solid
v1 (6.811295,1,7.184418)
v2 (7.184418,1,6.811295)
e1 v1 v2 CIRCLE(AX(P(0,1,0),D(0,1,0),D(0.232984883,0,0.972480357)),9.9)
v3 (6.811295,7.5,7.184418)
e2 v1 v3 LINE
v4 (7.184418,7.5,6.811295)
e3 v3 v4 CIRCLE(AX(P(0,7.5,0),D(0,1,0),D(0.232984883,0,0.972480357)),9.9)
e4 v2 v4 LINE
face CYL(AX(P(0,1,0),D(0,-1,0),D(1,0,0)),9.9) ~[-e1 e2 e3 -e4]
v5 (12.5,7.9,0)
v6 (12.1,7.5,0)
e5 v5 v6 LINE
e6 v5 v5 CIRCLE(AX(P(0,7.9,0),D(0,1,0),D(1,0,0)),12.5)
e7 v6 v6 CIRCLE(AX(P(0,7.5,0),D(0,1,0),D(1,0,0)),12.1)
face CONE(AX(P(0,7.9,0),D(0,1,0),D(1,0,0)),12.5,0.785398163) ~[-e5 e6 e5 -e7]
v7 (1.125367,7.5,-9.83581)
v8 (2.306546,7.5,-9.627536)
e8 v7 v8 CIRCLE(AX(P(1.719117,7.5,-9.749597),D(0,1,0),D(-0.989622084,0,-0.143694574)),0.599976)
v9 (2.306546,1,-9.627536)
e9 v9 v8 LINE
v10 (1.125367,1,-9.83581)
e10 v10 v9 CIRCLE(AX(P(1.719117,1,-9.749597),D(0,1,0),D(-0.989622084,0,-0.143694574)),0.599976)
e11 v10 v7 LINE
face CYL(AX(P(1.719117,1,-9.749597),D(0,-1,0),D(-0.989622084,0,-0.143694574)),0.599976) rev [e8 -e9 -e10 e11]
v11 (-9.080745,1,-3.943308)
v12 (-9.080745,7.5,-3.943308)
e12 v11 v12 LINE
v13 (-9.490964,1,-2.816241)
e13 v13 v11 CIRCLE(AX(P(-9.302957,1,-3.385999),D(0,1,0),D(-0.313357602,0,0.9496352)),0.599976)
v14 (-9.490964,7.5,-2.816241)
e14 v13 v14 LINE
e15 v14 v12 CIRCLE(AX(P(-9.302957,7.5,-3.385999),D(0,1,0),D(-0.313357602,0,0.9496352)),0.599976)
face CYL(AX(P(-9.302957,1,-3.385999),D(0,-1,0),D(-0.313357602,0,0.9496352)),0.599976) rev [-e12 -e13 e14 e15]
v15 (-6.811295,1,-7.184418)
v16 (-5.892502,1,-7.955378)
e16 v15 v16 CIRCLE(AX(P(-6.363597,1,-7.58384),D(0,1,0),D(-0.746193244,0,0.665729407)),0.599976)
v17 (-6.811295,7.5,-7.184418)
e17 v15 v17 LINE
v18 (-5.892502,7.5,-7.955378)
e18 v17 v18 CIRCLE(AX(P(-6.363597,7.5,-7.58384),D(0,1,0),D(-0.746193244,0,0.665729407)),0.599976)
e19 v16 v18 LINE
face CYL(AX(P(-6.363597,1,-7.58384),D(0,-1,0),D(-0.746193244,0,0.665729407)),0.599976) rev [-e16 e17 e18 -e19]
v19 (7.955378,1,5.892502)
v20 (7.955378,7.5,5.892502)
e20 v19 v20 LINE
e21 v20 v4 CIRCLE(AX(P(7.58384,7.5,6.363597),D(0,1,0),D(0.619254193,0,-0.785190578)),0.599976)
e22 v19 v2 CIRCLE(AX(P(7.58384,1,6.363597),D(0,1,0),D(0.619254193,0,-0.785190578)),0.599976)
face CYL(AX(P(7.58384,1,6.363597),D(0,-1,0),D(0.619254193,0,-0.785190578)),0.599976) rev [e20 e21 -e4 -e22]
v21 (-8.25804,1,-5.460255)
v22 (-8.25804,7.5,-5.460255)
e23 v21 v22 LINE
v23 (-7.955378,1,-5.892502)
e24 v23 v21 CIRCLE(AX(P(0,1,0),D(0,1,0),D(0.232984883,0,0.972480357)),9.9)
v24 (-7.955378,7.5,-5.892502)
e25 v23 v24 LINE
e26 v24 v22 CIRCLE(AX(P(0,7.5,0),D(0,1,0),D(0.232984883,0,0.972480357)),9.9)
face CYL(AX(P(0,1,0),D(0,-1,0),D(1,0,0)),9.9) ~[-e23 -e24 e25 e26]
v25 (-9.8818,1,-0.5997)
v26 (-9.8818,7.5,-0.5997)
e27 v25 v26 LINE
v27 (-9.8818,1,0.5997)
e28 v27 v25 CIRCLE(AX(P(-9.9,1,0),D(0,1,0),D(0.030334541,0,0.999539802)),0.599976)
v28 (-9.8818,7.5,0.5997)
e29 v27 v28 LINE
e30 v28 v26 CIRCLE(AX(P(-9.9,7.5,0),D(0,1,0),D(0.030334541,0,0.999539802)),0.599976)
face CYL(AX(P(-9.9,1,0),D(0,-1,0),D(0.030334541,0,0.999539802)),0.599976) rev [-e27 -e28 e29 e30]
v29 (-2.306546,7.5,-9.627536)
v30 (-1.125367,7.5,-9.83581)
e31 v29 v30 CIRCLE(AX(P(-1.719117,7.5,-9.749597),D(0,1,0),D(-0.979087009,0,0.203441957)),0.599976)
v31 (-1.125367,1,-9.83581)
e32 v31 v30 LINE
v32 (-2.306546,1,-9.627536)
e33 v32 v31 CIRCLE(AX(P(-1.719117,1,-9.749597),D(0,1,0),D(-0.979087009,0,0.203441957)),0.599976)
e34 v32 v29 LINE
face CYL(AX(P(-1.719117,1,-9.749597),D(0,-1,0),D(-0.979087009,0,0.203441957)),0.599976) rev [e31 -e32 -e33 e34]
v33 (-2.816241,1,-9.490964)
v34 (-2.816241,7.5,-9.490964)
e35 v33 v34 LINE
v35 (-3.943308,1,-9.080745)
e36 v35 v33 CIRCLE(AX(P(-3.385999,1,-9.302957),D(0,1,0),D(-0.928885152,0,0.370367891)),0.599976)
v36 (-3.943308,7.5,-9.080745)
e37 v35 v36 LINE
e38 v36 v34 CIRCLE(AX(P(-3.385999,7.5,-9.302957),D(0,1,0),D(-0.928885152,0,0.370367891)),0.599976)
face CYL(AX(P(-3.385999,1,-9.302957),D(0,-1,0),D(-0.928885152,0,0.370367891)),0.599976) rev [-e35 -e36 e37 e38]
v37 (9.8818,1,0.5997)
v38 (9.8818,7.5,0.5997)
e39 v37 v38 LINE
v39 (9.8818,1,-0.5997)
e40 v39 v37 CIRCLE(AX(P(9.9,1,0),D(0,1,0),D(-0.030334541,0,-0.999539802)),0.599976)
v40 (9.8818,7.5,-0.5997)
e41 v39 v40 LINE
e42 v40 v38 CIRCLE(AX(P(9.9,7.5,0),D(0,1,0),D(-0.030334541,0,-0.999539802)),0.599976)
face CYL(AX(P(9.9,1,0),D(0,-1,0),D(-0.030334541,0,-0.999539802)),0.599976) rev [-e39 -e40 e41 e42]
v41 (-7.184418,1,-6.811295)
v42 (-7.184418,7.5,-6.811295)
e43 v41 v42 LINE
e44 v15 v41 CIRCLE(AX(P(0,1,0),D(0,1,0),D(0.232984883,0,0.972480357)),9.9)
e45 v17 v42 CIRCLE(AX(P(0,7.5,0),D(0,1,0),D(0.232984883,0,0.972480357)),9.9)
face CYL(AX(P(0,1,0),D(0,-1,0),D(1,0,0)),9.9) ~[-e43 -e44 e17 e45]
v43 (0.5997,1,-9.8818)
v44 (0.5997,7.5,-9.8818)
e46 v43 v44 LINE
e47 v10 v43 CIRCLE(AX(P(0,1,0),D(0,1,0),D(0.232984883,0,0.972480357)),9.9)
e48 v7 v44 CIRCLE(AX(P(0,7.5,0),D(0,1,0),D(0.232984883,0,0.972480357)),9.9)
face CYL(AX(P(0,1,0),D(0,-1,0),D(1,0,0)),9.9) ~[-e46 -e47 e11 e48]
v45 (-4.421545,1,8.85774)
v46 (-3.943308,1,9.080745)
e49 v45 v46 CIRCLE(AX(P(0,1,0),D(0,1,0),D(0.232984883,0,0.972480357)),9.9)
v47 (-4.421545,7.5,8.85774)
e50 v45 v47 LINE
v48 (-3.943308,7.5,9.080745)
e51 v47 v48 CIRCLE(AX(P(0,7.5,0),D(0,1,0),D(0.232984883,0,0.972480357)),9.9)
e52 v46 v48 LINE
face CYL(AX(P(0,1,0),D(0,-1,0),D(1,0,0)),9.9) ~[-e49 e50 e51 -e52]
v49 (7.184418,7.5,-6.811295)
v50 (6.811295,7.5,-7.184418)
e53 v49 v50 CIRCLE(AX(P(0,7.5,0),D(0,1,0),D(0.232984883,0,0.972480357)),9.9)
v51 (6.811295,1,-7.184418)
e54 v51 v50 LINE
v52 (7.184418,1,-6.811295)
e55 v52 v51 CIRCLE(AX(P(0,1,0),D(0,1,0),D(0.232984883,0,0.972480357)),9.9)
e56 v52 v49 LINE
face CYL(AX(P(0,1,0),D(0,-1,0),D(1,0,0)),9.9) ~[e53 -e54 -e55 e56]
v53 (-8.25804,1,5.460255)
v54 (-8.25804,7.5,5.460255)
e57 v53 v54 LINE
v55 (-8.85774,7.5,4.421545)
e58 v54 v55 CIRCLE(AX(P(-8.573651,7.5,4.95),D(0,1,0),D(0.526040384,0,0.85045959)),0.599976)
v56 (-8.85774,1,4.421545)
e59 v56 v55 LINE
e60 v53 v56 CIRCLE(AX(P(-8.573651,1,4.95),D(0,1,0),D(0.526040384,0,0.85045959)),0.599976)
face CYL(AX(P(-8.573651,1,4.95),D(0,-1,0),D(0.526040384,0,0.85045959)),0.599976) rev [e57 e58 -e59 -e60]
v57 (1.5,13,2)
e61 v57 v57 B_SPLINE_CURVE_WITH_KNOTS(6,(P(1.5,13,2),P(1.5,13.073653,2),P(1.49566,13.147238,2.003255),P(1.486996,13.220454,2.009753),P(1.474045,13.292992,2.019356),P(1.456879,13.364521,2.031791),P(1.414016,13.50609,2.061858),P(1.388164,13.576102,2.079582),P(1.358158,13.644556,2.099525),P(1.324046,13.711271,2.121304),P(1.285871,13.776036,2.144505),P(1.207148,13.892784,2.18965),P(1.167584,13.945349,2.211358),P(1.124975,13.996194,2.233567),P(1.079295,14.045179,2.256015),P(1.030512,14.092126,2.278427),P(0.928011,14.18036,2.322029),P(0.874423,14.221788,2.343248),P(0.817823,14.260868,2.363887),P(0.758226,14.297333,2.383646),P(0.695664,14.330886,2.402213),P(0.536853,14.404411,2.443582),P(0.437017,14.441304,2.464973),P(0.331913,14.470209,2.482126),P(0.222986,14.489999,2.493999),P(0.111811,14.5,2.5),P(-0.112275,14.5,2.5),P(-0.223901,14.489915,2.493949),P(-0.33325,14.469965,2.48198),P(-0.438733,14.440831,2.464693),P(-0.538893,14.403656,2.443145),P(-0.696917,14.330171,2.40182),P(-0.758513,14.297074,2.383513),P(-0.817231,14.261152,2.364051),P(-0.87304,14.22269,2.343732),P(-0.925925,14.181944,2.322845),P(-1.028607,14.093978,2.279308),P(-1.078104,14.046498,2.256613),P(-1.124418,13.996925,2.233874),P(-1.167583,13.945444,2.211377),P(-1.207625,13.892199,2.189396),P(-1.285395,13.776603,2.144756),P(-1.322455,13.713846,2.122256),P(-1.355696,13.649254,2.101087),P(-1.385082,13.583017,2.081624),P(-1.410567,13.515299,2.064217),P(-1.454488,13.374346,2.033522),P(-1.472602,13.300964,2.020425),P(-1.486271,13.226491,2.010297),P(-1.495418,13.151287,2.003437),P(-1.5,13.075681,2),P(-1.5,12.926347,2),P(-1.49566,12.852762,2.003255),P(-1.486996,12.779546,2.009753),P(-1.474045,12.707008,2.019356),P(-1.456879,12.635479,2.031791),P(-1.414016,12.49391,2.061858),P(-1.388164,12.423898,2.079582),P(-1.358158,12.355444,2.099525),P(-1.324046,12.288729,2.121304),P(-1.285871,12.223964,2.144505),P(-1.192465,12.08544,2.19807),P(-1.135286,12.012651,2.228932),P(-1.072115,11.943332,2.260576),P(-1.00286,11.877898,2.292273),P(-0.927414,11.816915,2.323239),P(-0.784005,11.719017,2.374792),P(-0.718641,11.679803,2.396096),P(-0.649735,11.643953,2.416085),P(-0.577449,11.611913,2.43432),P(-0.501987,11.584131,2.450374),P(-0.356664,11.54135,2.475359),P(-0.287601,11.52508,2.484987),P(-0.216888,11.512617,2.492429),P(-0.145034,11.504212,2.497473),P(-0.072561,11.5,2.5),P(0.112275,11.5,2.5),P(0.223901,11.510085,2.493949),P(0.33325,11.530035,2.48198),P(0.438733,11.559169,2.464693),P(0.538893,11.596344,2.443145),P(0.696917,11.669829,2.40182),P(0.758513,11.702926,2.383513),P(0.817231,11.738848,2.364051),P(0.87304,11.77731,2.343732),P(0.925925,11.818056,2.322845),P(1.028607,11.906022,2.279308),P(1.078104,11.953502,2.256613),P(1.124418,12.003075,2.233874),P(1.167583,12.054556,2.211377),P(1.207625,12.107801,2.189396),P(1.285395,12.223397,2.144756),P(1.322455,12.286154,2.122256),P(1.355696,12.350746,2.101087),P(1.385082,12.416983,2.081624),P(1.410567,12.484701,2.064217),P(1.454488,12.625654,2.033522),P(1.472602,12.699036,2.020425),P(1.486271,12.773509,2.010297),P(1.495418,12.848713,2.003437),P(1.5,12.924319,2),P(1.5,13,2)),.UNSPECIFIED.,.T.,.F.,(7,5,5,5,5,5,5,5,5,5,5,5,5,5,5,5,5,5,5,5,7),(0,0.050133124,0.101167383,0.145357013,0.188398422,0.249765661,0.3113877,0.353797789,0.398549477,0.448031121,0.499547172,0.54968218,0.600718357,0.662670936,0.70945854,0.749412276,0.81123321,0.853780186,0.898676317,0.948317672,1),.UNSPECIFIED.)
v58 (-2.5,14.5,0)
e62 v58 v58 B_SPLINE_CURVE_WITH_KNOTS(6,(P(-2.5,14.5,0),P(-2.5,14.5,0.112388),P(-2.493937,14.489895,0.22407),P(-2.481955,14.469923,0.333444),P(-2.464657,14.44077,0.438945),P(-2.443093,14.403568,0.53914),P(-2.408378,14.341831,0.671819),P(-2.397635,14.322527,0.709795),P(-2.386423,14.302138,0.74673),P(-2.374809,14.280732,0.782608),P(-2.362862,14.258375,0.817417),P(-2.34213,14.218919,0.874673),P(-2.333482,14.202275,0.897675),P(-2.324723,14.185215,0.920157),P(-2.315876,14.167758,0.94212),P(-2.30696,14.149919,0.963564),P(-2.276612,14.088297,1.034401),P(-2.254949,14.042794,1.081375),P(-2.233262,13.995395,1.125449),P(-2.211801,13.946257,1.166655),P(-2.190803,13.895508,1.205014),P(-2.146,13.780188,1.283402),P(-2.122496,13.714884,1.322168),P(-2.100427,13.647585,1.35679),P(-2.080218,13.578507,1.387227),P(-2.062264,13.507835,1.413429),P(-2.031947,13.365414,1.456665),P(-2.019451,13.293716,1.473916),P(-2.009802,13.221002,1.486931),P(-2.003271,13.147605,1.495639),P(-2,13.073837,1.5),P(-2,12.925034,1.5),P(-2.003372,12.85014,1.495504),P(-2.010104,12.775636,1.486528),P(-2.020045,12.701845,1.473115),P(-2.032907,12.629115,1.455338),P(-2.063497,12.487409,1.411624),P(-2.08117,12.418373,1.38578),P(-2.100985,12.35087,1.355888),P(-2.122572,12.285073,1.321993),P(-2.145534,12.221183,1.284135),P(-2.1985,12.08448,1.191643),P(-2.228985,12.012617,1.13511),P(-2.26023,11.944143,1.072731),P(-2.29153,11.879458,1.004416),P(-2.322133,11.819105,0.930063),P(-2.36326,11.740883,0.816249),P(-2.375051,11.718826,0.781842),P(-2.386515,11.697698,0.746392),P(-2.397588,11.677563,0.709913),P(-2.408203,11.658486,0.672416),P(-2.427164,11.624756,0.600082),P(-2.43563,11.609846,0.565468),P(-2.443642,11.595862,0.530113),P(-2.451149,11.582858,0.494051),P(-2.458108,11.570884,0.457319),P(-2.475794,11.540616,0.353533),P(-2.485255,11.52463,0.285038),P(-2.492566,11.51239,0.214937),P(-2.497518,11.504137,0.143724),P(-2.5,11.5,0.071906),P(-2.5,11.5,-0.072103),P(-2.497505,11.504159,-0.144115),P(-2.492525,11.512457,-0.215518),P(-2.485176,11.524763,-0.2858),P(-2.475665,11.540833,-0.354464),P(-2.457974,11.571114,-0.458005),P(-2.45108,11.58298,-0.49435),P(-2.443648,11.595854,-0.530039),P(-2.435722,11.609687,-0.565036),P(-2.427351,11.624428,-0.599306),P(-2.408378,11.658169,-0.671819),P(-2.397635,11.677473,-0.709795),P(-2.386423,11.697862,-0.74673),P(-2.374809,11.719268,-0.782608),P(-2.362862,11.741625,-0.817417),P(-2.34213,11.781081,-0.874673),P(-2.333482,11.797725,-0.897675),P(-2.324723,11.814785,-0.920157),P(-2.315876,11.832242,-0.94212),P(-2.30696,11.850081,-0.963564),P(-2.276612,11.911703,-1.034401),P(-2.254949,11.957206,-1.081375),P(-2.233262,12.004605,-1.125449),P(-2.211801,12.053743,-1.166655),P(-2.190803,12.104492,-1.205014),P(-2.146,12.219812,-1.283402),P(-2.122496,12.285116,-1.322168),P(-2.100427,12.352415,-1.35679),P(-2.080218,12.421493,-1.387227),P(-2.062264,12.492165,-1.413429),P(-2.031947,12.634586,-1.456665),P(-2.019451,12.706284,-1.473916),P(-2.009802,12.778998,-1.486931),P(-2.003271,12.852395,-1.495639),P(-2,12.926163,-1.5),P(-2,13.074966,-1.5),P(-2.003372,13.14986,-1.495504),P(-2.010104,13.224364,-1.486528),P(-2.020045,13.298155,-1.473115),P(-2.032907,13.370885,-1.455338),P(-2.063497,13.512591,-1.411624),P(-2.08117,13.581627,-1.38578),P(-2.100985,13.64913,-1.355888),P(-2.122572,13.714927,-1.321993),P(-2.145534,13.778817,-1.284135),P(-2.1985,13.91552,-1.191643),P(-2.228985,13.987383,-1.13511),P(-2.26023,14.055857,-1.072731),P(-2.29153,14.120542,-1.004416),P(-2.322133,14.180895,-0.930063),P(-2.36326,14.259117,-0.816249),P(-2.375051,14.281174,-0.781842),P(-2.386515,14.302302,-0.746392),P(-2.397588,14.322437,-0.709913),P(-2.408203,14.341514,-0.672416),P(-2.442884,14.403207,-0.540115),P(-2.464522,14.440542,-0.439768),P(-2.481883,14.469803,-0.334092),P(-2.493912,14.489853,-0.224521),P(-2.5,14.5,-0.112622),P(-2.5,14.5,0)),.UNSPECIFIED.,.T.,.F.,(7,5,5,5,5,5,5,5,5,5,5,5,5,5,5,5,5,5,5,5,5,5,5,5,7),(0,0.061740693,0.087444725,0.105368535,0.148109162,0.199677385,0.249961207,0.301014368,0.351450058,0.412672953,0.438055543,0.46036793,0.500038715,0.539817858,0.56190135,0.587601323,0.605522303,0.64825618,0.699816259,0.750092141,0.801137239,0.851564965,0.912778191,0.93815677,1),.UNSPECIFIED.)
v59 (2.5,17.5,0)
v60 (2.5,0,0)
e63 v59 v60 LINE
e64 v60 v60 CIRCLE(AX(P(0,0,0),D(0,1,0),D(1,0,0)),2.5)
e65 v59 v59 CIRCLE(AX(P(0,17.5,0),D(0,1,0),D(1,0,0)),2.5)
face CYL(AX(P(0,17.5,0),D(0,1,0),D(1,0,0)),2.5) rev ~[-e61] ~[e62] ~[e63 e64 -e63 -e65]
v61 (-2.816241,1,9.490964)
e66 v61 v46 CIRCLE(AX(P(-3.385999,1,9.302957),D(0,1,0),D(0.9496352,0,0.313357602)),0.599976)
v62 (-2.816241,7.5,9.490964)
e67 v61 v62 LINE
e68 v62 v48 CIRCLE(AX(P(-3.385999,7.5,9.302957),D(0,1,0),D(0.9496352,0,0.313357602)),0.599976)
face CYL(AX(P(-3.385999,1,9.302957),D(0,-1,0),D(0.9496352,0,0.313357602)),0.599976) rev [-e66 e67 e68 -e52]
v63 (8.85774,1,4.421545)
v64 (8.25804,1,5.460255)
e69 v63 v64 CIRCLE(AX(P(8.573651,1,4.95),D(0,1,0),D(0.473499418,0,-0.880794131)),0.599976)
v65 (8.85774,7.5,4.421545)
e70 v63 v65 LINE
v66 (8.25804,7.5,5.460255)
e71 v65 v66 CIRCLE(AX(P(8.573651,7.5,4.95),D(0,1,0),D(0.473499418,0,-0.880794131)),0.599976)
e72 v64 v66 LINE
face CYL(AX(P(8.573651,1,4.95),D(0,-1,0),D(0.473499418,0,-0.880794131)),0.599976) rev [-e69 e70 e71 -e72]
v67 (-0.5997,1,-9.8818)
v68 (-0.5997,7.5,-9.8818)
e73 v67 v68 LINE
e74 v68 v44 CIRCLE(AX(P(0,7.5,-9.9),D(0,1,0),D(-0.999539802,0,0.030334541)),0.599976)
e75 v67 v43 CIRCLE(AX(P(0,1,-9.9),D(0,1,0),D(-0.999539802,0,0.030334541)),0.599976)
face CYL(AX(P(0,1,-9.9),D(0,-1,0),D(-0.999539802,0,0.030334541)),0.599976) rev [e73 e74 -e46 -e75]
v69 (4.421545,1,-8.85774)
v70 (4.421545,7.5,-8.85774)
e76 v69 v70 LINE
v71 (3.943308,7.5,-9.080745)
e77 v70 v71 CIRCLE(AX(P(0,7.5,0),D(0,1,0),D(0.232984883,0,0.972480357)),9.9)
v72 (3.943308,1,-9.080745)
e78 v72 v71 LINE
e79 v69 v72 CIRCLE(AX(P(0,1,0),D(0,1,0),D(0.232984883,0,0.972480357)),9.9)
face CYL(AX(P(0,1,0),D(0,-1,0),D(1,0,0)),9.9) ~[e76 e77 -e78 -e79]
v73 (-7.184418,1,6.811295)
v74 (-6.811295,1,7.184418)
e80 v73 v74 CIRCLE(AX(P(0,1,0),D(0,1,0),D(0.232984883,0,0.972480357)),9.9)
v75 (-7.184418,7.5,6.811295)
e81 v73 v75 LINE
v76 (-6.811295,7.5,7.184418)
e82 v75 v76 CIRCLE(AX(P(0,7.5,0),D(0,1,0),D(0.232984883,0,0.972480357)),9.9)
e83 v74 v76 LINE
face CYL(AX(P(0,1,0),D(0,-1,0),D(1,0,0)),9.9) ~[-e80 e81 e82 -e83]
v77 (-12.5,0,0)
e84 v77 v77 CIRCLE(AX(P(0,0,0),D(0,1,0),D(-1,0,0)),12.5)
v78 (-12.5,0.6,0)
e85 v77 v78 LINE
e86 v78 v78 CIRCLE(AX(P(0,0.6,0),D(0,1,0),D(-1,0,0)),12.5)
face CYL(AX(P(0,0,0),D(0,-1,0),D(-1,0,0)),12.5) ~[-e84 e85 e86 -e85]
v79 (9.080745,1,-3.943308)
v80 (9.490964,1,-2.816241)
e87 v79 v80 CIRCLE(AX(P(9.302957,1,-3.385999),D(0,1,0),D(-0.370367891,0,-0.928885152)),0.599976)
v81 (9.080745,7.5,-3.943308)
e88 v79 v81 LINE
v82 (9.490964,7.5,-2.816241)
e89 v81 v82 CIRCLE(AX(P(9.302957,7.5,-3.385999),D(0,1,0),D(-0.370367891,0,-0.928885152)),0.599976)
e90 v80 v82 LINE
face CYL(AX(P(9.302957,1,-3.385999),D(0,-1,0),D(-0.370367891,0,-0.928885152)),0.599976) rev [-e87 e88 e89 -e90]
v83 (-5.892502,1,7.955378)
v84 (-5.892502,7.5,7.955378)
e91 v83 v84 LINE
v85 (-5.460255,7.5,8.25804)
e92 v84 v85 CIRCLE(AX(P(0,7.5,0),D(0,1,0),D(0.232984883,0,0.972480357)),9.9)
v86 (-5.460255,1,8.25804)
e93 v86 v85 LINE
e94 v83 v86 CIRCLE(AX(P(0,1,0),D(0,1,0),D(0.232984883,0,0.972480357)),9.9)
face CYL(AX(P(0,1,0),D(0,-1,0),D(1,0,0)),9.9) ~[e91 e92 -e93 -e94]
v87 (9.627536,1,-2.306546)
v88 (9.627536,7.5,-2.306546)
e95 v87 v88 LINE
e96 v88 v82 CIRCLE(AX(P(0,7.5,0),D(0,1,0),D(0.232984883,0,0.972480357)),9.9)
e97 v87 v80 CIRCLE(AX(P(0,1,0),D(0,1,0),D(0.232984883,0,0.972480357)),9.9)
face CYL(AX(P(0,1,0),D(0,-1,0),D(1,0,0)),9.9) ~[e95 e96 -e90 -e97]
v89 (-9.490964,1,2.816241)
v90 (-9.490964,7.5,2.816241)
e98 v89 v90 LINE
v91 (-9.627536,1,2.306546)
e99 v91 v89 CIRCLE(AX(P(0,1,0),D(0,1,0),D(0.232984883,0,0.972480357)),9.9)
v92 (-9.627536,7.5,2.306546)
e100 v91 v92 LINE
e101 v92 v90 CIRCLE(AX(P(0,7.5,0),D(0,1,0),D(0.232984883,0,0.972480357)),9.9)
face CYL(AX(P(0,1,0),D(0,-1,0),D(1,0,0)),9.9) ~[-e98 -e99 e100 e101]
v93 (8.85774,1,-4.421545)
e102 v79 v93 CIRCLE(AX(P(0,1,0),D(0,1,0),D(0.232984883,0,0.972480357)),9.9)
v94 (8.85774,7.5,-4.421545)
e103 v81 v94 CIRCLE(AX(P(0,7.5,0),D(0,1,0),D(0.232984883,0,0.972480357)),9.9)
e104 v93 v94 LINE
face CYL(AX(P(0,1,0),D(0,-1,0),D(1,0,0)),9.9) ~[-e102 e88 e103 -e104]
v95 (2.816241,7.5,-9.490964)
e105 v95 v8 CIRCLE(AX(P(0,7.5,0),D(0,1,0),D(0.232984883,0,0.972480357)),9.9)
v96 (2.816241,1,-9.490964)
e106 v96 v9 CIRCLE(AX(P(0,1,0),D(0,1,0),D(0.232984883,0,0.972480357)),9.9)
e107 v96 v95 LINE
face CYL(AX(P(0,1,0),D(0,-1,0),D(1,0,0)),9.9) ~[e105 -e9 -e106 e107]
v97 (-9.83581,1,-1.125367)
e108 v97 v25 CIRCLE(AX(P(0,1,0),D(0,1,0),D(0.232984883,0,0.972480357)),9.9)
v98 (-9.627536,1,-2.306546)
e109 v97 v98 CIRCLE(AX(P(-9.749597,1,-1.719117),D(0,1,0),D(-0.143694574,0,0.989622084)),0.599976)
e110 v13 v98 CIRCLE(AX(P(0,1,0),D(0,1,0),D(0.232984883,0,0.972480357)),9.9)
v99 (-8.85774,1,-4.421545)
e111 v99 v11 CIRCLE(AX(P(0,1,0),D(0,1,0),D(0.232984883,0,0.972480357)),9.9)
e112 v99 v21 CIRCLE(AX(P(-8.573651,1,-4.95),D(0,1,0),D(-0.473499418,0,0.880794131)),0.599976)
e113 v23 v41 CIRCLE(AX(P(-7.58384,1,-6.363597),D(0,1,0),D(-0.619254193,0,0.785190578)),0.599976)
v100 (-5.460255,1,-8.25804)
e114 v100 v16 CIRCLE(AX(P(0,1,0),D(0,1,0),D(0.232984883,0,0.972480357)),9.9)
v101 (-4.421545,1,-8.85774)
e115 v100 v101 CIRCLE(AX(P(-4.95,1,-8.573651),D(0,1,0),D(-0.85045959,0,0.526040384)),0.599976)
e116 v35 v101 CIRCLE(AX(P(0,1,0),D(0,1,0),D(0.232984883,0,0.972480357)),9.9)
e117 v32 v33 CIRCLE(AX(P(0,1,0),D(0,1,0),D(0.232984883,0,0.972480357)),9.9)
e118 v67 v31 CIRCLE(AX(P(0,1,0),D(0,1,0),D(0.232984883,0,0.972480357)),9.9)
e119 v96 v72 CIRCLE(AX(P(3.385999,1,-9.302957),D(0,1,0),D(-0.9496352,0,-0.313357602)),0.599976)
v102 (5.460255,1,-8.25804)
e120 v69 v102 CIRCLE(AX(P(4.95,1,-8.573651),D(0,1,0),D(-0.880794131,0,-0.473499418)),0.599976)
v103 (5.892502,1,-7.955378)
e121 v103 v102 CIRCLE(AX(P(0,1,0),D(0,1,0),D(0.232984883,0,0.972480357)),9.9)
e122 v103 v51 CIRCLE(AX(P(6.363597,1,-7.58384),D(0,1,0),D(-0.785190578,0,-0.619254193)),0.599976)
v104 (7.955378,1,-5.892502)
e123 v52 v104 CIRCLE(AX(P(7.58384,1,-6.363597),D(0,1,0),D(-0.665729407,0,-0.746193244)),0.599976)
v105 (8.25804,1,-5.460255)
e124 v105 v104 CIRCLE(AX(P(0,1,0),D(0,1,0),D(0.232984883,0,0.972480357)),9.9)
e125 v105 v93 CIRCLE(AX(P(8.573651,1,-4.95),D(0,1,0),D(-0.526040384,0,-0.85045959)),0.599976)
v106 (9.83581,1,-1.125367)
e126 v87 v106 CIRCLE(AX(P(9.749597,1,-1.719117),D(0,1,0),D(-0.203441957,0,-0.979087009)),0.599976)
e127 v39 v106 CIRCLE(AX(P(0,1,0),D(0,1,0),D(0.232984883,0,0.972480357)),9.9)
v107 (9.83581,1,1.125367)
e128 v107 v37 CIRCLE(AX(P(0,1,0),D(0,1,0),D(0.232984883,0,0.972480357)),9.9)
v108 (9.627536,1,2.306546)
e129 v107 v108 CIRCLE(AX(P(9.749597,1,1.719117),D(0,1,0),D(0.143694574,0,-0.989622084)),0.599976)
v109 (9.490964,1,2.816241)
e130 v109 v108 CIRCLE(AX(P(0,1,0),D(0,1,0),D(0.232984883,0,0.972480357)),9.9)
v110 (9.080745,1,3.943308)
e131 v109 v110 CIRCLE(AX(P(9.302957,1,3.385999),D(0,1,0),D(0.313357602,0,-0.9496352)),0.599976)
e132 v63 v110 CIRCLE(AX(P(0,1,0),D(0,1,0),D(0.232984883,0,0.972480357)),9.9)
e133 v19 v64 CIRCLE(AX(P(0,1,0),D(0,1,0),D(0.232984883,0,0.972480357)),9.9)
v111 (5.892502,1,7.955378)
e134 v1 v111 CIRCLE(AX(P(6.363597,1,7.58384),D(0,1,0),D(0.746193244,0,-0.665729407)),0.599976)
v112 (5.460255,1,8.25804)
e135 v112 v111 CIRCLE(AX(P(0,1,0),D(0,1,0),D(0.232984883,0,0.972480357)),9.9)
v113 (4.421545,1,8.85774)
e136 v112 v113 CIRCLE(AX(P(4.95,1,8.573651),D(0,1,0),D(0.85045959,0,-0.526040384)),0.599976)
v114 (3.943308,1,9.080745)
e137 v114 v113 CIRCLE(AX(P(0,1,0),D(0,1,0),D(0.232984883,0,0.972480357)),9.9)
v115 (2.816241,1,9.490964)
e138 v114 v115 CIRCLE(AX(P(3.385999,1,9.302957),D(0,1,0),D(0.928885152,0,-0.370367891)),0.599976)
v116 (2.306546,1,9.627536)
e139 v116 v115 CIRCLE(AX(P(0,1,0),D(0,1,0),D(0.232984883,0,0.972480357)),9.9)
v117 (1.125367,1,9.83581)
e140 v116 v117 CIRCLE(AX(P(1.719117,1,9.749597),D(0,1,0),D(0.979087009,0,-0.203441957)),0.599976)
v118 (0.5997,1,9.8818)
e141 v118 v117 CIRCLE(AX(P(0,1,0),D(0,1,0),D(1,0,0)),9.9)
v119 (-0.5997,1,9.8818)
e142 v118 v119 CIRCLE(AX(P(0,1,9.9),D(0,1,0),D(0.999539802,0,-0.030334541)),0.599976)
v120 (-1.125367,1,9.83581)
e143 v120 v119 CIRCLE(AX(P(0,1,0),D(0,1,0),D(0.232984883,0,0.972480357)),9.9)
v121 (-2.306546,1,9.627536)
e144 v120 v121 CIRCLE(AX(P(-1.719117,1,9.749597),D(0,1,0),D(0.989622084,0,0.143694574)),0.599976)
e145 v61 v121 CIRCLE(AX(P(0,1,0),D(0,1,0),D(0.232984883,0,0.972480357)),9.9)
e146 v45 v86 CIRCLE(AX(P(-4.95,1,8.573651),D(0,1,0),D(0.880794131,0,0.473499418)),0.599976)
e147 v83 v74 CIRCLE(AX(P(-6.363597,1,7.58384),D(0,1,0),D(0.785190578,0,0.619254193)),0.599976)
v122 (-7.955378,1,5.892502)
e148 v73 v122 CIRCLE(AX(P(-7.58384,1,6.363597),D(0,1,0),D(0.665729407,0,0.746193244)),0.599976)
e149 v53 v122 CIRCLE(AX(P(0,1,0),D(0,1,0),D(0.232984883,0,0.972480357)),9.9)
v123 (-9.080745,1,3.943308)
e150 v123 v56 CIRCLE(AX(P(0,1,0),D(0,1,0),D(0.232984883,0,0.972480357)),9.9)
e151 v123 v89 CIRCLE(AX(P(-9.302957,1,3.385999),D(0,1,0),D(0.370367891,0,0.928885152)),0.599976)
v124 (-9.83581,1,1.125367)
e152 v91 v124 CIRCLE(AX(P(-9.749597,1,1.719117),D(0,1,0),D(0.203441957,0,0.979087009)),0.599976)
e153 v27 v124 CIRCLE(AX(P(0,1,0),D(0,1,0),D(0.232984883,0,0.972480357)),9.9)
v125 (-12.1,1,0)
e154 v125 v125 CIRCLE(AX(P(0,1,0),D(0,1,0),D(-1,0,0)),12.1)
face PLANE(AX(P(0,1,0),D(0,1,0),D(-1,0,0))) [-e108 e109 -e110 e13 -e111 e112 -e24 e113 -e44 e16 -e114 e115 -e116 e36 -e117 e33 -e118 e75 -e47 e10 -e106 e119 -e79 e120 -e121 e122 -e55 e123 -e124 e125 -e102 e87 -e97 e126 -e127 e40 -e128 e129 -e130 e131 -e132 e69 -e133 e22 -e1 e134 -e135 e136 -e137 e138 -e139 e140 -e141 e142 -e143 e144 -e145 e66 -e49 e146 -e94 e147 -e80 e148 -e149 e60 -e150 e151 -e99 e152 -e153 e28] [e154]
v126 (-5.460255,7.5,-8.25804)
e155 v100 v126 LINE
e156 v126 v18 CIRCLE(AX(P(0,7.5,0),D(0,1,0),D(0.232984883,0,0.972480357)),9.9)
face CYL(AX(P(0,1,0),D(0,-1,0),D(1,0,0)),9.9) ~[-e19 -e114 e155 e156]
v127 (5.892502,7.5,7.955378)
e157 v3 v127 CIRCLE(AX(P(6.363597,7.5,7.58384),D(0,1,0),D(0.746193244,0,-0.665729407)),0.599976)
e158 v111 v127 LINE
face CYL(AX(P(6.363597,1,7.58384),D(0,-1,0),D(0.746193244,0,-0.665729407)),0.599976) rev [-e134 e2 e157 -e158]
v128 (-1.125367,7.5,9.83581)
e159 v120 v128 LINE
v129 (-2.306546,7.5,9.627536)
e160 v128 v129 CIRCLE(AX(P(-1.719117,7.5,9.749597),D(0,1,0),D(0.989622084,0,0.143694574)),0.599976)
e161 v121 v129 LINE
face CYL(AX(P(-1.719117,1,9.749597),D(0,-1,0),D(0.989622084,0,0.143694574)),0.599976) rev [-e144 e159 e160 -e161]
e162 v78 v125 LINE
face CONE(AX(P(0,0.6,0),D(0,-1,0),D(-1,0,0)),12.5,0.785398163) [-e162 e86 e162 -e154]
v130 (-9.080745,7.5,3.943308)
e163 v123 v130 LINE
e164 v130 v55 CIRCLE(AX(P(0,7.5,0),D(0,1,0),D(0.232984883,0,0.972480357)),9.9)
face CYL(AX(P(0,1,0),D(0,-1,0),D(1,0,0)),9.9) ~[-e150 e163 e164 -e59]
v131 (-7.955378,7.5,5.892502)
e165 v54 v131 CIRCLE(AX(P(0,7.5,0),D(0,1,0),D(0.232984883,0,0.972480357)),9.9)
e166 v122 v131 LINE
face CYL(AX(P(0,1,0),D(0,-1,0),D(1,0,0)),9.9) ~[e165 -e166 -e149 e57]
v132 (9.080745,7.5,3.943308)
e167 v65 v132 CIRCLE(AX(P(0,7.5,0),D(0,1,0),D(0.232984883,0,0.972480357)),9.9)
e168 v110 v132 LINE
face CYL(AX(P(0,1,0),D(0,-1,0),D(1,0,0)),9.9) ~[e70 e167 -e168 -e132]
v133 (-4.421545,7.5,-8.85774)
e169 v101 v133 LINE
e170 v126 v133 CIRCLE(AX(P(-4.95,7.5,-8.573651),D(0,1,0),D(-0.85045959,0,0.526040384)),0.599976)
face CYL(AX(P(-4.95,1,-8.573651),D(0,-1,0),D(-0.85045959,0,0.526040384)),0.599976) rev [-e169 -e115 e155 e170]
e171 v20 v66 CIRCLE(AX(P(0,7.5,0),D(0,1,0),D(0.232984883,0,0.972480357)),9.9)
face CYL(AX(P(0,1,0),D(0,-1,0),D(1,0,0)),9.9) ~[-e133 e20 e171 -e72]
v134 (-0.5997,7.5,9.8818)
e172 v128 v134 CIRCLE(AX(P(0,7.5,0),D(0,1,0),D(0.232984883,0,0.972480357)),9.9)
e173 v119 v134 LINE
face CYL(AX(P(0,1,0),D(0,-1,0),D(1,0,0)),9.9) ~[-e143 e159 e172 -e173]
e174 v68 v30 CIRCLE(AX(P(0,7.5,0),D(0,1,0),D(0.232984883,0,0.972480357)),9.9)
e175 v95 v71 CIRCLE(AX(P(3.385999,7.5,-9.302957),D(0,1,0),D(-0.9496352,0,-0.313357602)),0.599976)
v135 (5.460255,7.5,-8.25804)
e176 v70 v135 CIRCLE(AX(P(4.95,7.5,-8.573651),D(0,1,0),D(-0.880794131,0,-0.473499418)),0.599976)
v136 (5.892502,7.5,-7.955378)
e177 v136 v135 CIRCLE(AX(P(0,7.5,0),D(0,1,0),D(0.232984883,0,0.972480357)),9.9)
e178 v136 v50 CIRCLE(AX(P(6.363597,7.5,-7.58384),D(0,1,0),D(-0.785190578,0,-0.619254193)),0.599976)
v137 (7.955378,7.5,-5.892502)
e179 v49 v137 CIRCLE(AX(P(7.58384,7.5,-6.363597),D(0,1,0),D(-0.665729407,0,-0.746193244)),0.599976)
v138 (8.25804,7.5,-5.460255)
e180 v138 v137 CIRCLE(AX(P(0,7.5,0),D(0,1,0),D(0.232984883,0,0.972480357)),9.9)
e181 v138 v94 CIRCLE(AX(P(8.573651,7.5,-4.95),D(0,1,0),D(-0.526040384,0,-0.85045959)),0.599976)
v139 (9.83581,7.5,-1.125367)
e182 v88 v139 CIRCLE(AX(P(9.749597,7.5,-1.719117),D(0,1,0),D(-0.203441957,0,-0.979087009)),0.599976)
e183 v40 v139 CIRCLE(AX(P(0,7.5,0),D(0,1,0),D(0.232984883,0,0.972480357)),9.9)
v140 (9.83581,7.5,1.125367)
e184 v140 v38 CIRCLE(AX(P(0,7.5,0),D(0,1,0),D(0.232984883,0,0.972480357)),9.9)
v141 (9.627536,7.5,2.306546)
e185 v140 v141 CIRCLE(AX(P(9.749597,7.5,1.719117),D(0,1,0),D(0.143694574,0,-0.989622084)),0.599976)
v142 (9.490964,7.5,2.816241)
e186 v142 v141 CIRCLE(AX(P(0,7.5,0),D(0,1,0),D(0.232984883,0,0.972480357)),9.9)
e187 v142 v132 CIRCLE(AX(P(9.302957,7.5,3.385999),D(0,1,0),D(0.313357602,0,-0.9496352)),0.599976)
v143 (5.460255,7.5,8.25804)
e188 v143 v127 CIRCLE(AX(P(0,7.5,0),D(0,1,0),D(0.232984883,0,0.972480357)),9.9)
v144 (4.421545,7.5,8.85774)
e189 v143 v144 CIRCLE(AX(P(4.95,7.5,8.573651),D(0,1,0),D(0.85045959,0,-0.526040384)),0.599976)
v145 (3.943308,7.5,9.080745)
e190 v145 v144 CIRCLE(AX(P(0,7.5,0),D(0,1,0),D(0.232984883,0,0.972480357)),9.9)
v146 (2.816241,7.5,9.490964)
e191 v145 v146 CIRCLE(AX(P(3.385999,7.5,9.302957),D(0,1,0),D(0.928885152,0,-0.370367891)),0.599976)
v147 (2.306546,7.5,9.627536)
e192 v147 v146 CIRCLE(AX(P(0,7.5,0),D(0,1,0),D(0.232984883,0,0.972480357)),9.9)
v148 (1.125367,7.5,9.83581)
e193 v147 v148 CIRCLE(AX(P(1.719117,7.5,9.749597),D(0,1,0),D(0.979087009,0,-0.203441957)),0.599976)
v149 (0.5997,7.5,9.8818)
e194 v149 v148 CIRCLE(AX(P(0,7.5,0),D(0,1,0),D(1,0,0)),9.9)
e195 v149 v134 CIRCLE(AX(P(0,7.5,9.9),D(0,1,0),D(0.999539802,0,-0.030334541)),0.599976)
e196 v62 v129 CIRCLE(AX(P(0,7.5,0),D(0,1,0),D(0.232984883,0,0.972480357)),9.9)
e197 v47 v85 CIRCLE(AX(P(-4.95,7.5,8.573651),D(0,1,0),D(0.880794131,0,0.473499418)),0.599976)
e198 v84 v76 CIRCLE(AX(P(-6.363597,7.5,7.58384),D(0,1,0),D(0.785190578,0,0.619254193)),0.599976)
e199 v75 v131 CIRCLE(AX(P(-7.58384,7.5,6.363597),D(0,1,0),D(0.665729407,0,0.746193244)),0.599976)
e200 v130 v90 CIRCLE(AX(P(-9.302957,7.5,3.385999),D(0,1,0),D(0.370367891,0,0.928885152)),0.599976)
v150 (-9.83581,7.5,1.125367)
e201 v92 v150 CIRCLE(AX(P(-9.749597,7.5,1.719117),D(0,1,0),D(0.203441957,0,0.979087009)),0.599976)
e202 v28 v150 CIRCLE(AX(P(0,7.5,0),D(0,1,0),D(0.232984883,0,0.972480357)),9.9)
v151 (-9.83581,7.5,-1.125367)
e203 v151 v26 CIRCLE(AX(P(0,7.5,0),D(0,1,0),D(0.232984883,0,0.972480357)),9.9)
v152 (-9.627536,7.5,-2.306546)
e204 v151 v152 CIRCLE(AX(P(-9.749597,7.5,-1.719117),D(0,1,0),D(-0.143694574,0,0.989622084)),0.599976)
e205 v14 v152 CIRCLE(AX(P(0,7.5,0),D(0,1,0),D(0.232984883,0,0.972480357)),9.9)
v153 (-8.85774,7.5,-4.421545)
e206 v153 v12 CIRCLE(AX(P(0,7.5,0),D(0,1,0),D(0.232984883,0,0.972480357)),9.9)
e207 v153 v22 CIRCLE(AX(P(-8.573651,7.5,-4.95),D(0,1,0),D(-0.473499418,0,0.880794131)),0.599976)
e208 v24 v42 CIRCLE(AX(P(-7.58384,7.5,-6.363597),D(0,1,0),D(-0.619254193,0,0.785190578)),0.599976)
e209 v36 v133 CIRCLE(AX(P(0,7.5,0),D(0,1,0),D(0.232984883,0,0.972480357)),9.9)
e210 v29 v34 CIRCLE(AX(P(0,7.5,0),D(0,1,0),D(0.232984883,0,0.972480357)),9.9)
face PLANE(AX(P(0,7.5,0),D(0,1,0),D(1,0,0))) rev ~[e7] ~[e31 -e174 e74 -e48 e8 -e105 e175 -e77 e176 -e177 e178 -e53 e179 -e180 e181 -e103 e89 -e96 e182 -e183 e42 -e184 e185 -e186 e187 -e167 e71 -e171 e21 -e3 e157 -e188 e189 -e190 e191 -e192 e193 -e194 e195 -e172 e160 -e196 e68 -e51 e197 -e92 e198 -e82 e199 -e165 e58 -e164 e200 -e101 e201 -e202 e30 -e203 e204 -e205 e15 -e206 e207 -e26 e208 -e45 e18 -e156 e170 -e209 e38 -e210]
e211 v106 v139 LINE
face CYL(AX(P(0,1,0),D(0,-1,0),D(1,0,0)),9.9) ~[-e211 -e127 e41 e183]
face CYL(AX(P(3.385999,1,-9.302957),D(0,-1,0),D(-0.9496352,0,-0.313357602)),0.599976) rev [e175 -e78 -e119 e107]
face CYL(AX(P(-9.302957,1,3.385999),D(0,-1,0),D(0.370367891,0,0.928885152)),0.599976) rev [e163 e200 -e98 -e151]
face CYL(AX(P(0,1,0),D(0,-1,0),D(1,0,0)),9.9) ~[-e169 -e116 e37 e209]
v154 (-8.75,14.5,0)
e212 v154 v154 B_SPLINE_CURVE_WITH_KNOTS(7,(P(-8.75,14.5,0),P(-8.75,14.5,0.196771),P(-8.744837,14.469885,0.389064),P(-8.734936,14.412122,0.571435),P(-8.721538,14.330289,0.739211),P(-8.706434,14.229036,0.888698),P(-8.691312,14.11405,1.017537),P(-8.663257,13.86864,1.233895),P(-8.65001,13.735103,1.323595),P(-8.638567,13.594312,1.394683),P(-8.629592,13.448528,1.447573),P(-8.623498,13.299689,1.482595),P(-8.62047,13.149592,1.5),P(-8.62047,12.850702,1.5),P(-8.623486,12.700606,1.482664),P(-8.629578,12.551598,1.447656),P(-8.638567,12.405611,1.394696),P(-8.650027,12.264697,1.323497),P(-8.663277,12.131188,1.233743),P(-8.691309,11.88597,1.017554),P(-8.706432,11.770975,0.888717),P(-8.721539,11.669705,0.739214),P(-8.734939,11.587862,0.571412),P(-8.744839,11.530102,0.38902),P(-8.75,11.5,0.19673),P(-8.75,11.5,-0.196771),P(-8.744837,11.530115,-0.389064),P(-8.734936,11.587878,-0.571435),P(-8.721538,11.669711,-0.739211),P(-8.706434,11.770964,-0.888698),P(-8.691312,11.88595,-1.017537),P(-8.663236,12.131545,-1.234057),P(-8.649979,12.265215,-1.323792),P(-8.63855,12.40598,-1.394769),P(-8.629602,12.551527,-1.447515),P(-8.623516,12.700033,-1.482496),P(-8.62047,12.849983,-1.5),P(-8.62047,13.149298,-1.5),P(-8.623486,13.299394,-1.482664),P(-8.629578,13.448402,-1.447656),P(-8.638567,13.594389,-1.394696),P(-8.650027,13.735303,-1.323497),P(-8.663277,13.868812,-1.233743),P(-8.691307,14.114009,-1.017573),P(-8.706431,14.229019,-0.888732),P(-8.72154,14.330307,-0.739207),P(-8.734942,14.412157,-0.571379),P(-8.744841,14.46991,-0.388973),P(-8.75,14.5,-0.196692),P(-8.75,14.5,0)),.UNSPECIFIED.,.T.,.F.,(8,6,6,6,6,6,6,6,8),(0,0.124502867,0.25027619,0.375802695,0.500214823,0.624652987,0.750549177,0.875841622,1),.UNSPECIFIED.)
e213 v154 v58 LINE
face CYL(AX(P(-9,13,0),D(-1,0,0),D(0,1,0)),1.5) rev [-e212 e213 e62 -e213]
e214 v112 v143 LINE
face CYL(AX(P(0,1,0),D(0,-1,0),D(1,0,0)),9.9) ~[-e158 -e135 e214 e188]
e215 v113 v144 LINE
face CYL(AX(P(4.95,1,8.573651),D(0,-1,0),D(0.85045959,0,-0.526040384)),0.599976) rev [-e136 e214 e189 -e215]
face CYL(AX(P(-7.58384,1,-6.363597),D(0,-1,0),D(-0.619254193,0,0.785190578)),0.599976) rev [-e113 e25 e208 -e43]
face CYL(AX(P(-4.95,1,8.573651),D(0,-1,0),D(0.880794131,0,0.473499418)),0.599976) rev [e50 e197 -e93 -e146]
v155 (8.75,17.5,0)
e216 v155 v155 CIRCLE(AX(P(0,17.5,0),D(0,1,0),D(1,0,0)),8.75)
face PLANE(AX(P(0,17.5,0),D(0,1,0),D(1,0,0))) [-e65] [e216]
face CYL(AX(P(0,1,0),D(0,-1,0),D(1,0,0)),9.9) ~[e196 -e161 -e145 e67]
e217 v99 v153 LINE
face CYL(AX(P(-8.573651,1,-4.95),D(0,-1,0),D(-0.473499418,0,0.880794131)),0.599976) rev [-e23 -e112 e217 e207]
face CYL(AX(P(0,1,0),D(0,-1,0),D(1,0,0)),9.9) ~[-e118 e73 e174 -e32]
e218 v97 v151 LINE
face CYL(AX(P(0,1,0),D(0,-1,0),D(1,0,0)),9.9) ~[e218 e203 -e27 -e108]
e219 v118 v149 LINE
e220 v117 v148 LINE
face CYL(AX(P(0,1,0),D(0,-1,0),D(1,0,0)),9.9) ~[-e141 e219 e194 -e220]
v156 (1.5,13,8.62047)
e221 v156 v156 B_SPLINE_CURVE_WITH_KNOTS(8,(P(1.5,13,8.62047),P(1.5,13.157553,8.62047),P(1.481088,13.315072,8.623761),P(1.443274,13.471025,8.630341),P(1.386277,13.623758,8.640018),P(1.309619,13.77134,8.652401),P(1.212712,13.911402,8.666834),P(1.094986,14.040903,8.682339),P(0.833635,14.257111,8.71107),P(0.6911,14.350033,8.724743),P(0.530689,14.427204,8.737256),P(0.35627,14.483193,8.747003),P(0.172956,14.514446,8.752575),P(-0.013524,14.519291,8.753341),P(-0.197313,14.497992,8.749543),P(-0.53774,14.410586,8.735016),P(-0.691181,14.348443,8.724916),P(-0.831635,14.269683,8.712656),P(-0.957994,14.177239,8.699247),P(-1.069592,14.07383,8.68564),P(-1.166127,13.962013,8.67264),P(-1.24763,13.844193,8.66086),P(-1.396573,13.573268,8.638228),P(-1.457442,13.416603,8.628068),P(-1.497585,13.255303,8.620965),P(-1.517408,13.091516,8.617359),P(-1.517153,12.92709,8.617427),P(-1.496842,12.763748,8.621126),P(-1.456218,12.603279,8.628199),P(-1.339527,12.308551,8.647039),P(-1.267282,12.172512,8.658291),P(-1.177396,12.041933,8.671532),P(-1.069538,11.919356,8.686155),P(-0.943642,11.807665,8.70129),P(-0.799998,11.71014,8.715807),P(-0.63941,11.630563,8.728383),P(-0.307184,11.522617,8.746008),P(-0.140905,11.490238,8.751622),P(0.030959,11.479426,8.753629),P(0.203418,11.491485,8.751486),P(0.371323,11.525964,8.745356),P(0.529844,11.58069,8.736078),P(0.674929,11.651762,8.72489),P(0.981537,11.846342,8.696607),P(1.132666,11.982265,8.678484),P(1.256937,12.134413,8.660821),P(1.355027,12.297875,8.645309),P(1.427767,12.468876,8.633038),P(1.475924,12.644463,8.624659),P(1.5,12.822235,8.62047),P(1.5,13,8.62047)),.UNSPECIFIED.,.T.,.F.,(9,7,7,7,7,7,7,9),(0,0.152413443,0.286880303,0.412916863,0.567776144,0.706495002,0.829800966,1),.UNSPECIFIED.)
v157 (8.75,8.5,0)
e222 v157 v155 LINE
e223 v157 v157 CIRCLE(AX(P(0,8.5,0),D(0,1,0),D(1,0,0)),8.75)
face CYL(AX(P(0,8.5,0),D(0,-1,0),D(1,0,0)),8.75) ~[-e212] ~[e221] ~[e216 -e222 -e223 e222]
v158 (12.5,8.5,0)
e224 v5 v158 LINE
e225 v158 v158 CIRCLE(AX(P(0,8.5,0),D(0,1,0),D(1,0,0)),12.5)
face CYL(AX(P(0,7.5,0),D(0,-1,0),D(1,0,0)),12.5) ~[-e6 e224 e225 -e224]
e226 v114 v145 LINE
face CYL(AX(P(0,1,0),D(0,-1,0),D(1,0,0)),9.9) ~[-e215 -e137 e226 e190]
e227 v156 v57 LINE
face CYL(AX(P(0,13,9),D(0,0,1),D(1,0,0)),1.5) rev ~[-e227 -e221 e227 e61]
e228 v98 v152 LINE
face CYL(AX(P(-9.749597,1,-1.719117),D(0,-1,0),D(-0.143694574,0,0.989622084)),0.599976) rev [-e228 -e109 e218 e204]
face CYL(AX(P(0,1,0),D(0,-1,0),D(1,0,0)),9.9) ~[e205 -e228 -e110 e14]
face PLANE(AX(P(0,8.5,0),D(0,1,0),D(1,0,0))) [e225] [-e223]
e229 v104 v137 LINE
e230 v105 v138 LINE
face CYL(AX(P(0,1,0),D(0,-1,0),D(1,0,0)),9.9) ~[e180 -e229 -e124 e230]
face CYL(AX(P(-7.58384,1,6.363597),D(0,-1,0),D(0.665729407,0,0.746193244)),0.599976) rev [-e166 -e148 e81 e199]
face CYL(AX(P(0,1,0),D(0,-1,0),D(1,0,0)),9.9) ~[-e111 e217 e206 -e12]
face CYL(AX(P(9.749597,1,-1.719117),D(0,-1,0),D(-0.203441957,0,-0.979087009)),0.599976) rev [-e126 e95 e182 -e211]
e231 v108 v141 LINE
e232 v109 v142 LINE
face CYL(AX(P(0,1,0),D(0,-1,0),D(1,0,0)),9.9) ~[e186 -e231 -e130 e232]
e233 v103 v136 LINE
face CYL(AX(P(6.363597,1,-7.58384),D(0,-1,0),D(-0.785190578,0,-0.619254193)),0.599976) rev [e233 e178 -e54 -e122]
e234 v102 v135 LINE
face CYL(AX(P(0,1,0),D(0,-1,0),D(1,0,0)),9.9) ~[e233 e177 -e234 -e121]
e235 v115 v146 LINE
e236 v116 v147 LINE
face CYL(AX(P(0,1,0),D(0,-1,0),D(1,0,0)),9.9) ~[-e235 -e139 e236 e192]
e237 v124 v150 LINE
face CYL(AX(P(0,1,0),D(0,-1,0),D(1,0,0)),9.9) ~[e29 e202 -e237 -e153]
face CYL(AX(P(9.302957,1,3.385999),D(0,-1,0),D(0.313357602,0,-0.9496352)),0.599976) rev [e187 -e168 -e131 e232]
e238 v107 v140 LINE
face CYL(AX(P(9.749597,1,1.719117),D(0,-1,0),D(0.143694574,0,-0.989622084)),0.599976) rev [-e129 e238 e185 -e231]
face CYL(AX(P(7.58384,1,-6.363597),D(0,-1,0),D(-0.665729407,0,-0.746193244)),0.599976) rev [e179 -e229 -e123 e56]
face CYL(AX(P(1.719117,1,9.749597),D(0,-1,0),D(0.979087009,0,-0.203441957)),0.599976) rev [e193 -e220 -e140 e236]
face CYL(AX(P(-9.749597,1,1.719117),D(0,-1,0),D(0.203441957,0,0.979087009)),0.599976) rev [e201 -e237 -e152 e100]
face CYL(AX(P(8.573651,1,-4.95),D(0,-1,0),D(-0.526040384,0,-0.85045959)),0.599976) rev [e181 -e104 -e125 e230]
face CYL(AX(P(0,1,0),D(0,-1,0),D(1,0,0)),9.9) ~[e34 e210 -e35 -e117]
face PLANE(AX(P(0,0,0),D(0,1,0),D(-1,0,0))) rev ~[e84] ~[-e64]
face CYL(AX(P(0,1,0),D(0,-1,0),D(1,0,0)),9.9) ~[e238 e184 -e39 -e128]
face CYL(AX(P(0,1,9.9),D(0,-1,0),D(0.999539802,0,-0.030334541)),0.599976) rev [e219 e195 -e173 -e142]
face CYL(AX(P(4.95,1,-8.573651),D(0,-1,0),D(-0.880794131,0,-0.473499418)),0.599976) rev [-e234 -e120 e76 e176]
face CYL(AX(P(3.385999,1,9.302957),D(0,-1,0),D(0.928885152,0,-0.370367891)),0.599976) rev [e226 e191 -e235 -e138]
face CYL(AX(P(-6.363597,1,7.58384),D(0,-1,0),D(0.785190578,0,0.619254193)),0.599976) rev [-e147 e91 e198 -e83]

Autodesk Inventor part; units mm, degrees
ref_plane "XZ Plane" through (0, 0, 0) normal (0, 1, 0) x (-1, 0, 0)
sketch "Sketch1" plane through (0, 0, 0) normal (0, 1, 0) x (-1, 0, 0)
  circle A0 centre (0, 0) radius 12.5
  dimension "d0" = 25
extrude "Extrusion1" add sketch "Sketch1" along normal blind 1
chamfer "Chamfer1" distance 0.4 angle 45 1 edges at (12.5, 1, 0)
sketch "Sketch2" plane through (0, 1, 0) normal (0, 1, 0) x (1, 0, 0)
  circle A0 centre (0, 0) radius 12.1 projected
  circle A1 centre (0, 0) radius 9.9
  dimension "d6" = 19.8
extrude "Extrusion2" add sketch "Sketch2" along normal blind 6.5 contours A1
sketch "Sketch3" plane through (0, 7.5, 0) normal (0, 1, 0) x (1, 0, 0)
  circle A0 centre (0, 0) radius 12.5 projected
extrude "Extrusion3" add sketch "Sketch3" along normal blind 1
sketch "Sketch4" plane through (0, 8.5, 0) normal (0, 1, 0) x (1, 0, 0)
  circle A0 centre (0, 0) radius 8.75
  dimension "d14" = 17.5
extrude "Extrusion4" add sketch "Sketch4" along normal blind 9
sketch "Sketch5" plane through (0, 17.5, 0) normal (0, 1, 0) x (1, 0, 0)
  circle A0 centre (0, 0) radius 8.75 projected
  circle A1 centre (0, 0) radius 2.5
  dimension "d17" = 5
extrude "Extrusion5" cut sketch "Sketch5" against normal up to surface (17.5 mm away) contours A1
sketch "Sketch6" plane through (0, 1, 0) normal (0, 1, 0) x (1, 0, 0)
  circle A0 centre (0, 0) radius 9.9 projected
  arc A1 (0.5997, -9.8818) -> (-0.5997, -9.8818) centre (0, -9.9) ccw
  dimension "d20" = 1.2
extrude "Extrusion6" cut sketch "Sketch6" along normal up to surface (6.5 mm away) contours A1 A0 picked at (-0.0236, -9.7001)
pattern_circular "Circular Pattern1" count 36 over 360 about axis through (0, 1, 0) along (0, 1, 0) of "Extrusion6"
ref_plane "Work Plane1" through (0, 0, 9) normal (0, 0, 1) x (1, 0, 0)
ref_plane "Work Plane2" through (-9, 0, 0) normal (1, 0, 0) x (0, 1, 0)
sketch "Sketch7" plane through (-9, 0, 0) normal (1, 0, 0) x (0, 1, 0)
  circle A0 centre (13, 0) radius 1.5
  line L0 (17.5, -8.75) -> (17.5, 8.75) projected
  point P0 (0, 0)
  dimension "d28" = 3
  dimension "d29" = 4.5
extrude "Extrusion7" cut sketch "Sketch7" along normal blind 7.25
sketch "Sketch8" plane through (0, 0, 9) normal (0, 0, 1) x (1, 0, 0)
  circle A0 centre (0, 13) radius 1.5
  line L0 (12.5, 8.5) -> (-12.5, 8.5) projected
  point P0 (0, 0)
  dimension "d32" = 3
  dimension "d40" = 4.5
extrude "Extrusion8" cut sketch "Sketch8" against normal blind 8
thread "Thread1" size "M3x0.5" class "6H" standard "ANSI Metric M Profile" full length
thread "Thread2" size "M3x0.5" class "6H" standard "ANSI Metric M Profile" full length
chamfer "Chamfer3" distance 0.4 angle 45 1 edges at (-12.5, 7.5, 0)
properties part number "PulleyGT2x36x5Bore" material "Aluminum 6061"
